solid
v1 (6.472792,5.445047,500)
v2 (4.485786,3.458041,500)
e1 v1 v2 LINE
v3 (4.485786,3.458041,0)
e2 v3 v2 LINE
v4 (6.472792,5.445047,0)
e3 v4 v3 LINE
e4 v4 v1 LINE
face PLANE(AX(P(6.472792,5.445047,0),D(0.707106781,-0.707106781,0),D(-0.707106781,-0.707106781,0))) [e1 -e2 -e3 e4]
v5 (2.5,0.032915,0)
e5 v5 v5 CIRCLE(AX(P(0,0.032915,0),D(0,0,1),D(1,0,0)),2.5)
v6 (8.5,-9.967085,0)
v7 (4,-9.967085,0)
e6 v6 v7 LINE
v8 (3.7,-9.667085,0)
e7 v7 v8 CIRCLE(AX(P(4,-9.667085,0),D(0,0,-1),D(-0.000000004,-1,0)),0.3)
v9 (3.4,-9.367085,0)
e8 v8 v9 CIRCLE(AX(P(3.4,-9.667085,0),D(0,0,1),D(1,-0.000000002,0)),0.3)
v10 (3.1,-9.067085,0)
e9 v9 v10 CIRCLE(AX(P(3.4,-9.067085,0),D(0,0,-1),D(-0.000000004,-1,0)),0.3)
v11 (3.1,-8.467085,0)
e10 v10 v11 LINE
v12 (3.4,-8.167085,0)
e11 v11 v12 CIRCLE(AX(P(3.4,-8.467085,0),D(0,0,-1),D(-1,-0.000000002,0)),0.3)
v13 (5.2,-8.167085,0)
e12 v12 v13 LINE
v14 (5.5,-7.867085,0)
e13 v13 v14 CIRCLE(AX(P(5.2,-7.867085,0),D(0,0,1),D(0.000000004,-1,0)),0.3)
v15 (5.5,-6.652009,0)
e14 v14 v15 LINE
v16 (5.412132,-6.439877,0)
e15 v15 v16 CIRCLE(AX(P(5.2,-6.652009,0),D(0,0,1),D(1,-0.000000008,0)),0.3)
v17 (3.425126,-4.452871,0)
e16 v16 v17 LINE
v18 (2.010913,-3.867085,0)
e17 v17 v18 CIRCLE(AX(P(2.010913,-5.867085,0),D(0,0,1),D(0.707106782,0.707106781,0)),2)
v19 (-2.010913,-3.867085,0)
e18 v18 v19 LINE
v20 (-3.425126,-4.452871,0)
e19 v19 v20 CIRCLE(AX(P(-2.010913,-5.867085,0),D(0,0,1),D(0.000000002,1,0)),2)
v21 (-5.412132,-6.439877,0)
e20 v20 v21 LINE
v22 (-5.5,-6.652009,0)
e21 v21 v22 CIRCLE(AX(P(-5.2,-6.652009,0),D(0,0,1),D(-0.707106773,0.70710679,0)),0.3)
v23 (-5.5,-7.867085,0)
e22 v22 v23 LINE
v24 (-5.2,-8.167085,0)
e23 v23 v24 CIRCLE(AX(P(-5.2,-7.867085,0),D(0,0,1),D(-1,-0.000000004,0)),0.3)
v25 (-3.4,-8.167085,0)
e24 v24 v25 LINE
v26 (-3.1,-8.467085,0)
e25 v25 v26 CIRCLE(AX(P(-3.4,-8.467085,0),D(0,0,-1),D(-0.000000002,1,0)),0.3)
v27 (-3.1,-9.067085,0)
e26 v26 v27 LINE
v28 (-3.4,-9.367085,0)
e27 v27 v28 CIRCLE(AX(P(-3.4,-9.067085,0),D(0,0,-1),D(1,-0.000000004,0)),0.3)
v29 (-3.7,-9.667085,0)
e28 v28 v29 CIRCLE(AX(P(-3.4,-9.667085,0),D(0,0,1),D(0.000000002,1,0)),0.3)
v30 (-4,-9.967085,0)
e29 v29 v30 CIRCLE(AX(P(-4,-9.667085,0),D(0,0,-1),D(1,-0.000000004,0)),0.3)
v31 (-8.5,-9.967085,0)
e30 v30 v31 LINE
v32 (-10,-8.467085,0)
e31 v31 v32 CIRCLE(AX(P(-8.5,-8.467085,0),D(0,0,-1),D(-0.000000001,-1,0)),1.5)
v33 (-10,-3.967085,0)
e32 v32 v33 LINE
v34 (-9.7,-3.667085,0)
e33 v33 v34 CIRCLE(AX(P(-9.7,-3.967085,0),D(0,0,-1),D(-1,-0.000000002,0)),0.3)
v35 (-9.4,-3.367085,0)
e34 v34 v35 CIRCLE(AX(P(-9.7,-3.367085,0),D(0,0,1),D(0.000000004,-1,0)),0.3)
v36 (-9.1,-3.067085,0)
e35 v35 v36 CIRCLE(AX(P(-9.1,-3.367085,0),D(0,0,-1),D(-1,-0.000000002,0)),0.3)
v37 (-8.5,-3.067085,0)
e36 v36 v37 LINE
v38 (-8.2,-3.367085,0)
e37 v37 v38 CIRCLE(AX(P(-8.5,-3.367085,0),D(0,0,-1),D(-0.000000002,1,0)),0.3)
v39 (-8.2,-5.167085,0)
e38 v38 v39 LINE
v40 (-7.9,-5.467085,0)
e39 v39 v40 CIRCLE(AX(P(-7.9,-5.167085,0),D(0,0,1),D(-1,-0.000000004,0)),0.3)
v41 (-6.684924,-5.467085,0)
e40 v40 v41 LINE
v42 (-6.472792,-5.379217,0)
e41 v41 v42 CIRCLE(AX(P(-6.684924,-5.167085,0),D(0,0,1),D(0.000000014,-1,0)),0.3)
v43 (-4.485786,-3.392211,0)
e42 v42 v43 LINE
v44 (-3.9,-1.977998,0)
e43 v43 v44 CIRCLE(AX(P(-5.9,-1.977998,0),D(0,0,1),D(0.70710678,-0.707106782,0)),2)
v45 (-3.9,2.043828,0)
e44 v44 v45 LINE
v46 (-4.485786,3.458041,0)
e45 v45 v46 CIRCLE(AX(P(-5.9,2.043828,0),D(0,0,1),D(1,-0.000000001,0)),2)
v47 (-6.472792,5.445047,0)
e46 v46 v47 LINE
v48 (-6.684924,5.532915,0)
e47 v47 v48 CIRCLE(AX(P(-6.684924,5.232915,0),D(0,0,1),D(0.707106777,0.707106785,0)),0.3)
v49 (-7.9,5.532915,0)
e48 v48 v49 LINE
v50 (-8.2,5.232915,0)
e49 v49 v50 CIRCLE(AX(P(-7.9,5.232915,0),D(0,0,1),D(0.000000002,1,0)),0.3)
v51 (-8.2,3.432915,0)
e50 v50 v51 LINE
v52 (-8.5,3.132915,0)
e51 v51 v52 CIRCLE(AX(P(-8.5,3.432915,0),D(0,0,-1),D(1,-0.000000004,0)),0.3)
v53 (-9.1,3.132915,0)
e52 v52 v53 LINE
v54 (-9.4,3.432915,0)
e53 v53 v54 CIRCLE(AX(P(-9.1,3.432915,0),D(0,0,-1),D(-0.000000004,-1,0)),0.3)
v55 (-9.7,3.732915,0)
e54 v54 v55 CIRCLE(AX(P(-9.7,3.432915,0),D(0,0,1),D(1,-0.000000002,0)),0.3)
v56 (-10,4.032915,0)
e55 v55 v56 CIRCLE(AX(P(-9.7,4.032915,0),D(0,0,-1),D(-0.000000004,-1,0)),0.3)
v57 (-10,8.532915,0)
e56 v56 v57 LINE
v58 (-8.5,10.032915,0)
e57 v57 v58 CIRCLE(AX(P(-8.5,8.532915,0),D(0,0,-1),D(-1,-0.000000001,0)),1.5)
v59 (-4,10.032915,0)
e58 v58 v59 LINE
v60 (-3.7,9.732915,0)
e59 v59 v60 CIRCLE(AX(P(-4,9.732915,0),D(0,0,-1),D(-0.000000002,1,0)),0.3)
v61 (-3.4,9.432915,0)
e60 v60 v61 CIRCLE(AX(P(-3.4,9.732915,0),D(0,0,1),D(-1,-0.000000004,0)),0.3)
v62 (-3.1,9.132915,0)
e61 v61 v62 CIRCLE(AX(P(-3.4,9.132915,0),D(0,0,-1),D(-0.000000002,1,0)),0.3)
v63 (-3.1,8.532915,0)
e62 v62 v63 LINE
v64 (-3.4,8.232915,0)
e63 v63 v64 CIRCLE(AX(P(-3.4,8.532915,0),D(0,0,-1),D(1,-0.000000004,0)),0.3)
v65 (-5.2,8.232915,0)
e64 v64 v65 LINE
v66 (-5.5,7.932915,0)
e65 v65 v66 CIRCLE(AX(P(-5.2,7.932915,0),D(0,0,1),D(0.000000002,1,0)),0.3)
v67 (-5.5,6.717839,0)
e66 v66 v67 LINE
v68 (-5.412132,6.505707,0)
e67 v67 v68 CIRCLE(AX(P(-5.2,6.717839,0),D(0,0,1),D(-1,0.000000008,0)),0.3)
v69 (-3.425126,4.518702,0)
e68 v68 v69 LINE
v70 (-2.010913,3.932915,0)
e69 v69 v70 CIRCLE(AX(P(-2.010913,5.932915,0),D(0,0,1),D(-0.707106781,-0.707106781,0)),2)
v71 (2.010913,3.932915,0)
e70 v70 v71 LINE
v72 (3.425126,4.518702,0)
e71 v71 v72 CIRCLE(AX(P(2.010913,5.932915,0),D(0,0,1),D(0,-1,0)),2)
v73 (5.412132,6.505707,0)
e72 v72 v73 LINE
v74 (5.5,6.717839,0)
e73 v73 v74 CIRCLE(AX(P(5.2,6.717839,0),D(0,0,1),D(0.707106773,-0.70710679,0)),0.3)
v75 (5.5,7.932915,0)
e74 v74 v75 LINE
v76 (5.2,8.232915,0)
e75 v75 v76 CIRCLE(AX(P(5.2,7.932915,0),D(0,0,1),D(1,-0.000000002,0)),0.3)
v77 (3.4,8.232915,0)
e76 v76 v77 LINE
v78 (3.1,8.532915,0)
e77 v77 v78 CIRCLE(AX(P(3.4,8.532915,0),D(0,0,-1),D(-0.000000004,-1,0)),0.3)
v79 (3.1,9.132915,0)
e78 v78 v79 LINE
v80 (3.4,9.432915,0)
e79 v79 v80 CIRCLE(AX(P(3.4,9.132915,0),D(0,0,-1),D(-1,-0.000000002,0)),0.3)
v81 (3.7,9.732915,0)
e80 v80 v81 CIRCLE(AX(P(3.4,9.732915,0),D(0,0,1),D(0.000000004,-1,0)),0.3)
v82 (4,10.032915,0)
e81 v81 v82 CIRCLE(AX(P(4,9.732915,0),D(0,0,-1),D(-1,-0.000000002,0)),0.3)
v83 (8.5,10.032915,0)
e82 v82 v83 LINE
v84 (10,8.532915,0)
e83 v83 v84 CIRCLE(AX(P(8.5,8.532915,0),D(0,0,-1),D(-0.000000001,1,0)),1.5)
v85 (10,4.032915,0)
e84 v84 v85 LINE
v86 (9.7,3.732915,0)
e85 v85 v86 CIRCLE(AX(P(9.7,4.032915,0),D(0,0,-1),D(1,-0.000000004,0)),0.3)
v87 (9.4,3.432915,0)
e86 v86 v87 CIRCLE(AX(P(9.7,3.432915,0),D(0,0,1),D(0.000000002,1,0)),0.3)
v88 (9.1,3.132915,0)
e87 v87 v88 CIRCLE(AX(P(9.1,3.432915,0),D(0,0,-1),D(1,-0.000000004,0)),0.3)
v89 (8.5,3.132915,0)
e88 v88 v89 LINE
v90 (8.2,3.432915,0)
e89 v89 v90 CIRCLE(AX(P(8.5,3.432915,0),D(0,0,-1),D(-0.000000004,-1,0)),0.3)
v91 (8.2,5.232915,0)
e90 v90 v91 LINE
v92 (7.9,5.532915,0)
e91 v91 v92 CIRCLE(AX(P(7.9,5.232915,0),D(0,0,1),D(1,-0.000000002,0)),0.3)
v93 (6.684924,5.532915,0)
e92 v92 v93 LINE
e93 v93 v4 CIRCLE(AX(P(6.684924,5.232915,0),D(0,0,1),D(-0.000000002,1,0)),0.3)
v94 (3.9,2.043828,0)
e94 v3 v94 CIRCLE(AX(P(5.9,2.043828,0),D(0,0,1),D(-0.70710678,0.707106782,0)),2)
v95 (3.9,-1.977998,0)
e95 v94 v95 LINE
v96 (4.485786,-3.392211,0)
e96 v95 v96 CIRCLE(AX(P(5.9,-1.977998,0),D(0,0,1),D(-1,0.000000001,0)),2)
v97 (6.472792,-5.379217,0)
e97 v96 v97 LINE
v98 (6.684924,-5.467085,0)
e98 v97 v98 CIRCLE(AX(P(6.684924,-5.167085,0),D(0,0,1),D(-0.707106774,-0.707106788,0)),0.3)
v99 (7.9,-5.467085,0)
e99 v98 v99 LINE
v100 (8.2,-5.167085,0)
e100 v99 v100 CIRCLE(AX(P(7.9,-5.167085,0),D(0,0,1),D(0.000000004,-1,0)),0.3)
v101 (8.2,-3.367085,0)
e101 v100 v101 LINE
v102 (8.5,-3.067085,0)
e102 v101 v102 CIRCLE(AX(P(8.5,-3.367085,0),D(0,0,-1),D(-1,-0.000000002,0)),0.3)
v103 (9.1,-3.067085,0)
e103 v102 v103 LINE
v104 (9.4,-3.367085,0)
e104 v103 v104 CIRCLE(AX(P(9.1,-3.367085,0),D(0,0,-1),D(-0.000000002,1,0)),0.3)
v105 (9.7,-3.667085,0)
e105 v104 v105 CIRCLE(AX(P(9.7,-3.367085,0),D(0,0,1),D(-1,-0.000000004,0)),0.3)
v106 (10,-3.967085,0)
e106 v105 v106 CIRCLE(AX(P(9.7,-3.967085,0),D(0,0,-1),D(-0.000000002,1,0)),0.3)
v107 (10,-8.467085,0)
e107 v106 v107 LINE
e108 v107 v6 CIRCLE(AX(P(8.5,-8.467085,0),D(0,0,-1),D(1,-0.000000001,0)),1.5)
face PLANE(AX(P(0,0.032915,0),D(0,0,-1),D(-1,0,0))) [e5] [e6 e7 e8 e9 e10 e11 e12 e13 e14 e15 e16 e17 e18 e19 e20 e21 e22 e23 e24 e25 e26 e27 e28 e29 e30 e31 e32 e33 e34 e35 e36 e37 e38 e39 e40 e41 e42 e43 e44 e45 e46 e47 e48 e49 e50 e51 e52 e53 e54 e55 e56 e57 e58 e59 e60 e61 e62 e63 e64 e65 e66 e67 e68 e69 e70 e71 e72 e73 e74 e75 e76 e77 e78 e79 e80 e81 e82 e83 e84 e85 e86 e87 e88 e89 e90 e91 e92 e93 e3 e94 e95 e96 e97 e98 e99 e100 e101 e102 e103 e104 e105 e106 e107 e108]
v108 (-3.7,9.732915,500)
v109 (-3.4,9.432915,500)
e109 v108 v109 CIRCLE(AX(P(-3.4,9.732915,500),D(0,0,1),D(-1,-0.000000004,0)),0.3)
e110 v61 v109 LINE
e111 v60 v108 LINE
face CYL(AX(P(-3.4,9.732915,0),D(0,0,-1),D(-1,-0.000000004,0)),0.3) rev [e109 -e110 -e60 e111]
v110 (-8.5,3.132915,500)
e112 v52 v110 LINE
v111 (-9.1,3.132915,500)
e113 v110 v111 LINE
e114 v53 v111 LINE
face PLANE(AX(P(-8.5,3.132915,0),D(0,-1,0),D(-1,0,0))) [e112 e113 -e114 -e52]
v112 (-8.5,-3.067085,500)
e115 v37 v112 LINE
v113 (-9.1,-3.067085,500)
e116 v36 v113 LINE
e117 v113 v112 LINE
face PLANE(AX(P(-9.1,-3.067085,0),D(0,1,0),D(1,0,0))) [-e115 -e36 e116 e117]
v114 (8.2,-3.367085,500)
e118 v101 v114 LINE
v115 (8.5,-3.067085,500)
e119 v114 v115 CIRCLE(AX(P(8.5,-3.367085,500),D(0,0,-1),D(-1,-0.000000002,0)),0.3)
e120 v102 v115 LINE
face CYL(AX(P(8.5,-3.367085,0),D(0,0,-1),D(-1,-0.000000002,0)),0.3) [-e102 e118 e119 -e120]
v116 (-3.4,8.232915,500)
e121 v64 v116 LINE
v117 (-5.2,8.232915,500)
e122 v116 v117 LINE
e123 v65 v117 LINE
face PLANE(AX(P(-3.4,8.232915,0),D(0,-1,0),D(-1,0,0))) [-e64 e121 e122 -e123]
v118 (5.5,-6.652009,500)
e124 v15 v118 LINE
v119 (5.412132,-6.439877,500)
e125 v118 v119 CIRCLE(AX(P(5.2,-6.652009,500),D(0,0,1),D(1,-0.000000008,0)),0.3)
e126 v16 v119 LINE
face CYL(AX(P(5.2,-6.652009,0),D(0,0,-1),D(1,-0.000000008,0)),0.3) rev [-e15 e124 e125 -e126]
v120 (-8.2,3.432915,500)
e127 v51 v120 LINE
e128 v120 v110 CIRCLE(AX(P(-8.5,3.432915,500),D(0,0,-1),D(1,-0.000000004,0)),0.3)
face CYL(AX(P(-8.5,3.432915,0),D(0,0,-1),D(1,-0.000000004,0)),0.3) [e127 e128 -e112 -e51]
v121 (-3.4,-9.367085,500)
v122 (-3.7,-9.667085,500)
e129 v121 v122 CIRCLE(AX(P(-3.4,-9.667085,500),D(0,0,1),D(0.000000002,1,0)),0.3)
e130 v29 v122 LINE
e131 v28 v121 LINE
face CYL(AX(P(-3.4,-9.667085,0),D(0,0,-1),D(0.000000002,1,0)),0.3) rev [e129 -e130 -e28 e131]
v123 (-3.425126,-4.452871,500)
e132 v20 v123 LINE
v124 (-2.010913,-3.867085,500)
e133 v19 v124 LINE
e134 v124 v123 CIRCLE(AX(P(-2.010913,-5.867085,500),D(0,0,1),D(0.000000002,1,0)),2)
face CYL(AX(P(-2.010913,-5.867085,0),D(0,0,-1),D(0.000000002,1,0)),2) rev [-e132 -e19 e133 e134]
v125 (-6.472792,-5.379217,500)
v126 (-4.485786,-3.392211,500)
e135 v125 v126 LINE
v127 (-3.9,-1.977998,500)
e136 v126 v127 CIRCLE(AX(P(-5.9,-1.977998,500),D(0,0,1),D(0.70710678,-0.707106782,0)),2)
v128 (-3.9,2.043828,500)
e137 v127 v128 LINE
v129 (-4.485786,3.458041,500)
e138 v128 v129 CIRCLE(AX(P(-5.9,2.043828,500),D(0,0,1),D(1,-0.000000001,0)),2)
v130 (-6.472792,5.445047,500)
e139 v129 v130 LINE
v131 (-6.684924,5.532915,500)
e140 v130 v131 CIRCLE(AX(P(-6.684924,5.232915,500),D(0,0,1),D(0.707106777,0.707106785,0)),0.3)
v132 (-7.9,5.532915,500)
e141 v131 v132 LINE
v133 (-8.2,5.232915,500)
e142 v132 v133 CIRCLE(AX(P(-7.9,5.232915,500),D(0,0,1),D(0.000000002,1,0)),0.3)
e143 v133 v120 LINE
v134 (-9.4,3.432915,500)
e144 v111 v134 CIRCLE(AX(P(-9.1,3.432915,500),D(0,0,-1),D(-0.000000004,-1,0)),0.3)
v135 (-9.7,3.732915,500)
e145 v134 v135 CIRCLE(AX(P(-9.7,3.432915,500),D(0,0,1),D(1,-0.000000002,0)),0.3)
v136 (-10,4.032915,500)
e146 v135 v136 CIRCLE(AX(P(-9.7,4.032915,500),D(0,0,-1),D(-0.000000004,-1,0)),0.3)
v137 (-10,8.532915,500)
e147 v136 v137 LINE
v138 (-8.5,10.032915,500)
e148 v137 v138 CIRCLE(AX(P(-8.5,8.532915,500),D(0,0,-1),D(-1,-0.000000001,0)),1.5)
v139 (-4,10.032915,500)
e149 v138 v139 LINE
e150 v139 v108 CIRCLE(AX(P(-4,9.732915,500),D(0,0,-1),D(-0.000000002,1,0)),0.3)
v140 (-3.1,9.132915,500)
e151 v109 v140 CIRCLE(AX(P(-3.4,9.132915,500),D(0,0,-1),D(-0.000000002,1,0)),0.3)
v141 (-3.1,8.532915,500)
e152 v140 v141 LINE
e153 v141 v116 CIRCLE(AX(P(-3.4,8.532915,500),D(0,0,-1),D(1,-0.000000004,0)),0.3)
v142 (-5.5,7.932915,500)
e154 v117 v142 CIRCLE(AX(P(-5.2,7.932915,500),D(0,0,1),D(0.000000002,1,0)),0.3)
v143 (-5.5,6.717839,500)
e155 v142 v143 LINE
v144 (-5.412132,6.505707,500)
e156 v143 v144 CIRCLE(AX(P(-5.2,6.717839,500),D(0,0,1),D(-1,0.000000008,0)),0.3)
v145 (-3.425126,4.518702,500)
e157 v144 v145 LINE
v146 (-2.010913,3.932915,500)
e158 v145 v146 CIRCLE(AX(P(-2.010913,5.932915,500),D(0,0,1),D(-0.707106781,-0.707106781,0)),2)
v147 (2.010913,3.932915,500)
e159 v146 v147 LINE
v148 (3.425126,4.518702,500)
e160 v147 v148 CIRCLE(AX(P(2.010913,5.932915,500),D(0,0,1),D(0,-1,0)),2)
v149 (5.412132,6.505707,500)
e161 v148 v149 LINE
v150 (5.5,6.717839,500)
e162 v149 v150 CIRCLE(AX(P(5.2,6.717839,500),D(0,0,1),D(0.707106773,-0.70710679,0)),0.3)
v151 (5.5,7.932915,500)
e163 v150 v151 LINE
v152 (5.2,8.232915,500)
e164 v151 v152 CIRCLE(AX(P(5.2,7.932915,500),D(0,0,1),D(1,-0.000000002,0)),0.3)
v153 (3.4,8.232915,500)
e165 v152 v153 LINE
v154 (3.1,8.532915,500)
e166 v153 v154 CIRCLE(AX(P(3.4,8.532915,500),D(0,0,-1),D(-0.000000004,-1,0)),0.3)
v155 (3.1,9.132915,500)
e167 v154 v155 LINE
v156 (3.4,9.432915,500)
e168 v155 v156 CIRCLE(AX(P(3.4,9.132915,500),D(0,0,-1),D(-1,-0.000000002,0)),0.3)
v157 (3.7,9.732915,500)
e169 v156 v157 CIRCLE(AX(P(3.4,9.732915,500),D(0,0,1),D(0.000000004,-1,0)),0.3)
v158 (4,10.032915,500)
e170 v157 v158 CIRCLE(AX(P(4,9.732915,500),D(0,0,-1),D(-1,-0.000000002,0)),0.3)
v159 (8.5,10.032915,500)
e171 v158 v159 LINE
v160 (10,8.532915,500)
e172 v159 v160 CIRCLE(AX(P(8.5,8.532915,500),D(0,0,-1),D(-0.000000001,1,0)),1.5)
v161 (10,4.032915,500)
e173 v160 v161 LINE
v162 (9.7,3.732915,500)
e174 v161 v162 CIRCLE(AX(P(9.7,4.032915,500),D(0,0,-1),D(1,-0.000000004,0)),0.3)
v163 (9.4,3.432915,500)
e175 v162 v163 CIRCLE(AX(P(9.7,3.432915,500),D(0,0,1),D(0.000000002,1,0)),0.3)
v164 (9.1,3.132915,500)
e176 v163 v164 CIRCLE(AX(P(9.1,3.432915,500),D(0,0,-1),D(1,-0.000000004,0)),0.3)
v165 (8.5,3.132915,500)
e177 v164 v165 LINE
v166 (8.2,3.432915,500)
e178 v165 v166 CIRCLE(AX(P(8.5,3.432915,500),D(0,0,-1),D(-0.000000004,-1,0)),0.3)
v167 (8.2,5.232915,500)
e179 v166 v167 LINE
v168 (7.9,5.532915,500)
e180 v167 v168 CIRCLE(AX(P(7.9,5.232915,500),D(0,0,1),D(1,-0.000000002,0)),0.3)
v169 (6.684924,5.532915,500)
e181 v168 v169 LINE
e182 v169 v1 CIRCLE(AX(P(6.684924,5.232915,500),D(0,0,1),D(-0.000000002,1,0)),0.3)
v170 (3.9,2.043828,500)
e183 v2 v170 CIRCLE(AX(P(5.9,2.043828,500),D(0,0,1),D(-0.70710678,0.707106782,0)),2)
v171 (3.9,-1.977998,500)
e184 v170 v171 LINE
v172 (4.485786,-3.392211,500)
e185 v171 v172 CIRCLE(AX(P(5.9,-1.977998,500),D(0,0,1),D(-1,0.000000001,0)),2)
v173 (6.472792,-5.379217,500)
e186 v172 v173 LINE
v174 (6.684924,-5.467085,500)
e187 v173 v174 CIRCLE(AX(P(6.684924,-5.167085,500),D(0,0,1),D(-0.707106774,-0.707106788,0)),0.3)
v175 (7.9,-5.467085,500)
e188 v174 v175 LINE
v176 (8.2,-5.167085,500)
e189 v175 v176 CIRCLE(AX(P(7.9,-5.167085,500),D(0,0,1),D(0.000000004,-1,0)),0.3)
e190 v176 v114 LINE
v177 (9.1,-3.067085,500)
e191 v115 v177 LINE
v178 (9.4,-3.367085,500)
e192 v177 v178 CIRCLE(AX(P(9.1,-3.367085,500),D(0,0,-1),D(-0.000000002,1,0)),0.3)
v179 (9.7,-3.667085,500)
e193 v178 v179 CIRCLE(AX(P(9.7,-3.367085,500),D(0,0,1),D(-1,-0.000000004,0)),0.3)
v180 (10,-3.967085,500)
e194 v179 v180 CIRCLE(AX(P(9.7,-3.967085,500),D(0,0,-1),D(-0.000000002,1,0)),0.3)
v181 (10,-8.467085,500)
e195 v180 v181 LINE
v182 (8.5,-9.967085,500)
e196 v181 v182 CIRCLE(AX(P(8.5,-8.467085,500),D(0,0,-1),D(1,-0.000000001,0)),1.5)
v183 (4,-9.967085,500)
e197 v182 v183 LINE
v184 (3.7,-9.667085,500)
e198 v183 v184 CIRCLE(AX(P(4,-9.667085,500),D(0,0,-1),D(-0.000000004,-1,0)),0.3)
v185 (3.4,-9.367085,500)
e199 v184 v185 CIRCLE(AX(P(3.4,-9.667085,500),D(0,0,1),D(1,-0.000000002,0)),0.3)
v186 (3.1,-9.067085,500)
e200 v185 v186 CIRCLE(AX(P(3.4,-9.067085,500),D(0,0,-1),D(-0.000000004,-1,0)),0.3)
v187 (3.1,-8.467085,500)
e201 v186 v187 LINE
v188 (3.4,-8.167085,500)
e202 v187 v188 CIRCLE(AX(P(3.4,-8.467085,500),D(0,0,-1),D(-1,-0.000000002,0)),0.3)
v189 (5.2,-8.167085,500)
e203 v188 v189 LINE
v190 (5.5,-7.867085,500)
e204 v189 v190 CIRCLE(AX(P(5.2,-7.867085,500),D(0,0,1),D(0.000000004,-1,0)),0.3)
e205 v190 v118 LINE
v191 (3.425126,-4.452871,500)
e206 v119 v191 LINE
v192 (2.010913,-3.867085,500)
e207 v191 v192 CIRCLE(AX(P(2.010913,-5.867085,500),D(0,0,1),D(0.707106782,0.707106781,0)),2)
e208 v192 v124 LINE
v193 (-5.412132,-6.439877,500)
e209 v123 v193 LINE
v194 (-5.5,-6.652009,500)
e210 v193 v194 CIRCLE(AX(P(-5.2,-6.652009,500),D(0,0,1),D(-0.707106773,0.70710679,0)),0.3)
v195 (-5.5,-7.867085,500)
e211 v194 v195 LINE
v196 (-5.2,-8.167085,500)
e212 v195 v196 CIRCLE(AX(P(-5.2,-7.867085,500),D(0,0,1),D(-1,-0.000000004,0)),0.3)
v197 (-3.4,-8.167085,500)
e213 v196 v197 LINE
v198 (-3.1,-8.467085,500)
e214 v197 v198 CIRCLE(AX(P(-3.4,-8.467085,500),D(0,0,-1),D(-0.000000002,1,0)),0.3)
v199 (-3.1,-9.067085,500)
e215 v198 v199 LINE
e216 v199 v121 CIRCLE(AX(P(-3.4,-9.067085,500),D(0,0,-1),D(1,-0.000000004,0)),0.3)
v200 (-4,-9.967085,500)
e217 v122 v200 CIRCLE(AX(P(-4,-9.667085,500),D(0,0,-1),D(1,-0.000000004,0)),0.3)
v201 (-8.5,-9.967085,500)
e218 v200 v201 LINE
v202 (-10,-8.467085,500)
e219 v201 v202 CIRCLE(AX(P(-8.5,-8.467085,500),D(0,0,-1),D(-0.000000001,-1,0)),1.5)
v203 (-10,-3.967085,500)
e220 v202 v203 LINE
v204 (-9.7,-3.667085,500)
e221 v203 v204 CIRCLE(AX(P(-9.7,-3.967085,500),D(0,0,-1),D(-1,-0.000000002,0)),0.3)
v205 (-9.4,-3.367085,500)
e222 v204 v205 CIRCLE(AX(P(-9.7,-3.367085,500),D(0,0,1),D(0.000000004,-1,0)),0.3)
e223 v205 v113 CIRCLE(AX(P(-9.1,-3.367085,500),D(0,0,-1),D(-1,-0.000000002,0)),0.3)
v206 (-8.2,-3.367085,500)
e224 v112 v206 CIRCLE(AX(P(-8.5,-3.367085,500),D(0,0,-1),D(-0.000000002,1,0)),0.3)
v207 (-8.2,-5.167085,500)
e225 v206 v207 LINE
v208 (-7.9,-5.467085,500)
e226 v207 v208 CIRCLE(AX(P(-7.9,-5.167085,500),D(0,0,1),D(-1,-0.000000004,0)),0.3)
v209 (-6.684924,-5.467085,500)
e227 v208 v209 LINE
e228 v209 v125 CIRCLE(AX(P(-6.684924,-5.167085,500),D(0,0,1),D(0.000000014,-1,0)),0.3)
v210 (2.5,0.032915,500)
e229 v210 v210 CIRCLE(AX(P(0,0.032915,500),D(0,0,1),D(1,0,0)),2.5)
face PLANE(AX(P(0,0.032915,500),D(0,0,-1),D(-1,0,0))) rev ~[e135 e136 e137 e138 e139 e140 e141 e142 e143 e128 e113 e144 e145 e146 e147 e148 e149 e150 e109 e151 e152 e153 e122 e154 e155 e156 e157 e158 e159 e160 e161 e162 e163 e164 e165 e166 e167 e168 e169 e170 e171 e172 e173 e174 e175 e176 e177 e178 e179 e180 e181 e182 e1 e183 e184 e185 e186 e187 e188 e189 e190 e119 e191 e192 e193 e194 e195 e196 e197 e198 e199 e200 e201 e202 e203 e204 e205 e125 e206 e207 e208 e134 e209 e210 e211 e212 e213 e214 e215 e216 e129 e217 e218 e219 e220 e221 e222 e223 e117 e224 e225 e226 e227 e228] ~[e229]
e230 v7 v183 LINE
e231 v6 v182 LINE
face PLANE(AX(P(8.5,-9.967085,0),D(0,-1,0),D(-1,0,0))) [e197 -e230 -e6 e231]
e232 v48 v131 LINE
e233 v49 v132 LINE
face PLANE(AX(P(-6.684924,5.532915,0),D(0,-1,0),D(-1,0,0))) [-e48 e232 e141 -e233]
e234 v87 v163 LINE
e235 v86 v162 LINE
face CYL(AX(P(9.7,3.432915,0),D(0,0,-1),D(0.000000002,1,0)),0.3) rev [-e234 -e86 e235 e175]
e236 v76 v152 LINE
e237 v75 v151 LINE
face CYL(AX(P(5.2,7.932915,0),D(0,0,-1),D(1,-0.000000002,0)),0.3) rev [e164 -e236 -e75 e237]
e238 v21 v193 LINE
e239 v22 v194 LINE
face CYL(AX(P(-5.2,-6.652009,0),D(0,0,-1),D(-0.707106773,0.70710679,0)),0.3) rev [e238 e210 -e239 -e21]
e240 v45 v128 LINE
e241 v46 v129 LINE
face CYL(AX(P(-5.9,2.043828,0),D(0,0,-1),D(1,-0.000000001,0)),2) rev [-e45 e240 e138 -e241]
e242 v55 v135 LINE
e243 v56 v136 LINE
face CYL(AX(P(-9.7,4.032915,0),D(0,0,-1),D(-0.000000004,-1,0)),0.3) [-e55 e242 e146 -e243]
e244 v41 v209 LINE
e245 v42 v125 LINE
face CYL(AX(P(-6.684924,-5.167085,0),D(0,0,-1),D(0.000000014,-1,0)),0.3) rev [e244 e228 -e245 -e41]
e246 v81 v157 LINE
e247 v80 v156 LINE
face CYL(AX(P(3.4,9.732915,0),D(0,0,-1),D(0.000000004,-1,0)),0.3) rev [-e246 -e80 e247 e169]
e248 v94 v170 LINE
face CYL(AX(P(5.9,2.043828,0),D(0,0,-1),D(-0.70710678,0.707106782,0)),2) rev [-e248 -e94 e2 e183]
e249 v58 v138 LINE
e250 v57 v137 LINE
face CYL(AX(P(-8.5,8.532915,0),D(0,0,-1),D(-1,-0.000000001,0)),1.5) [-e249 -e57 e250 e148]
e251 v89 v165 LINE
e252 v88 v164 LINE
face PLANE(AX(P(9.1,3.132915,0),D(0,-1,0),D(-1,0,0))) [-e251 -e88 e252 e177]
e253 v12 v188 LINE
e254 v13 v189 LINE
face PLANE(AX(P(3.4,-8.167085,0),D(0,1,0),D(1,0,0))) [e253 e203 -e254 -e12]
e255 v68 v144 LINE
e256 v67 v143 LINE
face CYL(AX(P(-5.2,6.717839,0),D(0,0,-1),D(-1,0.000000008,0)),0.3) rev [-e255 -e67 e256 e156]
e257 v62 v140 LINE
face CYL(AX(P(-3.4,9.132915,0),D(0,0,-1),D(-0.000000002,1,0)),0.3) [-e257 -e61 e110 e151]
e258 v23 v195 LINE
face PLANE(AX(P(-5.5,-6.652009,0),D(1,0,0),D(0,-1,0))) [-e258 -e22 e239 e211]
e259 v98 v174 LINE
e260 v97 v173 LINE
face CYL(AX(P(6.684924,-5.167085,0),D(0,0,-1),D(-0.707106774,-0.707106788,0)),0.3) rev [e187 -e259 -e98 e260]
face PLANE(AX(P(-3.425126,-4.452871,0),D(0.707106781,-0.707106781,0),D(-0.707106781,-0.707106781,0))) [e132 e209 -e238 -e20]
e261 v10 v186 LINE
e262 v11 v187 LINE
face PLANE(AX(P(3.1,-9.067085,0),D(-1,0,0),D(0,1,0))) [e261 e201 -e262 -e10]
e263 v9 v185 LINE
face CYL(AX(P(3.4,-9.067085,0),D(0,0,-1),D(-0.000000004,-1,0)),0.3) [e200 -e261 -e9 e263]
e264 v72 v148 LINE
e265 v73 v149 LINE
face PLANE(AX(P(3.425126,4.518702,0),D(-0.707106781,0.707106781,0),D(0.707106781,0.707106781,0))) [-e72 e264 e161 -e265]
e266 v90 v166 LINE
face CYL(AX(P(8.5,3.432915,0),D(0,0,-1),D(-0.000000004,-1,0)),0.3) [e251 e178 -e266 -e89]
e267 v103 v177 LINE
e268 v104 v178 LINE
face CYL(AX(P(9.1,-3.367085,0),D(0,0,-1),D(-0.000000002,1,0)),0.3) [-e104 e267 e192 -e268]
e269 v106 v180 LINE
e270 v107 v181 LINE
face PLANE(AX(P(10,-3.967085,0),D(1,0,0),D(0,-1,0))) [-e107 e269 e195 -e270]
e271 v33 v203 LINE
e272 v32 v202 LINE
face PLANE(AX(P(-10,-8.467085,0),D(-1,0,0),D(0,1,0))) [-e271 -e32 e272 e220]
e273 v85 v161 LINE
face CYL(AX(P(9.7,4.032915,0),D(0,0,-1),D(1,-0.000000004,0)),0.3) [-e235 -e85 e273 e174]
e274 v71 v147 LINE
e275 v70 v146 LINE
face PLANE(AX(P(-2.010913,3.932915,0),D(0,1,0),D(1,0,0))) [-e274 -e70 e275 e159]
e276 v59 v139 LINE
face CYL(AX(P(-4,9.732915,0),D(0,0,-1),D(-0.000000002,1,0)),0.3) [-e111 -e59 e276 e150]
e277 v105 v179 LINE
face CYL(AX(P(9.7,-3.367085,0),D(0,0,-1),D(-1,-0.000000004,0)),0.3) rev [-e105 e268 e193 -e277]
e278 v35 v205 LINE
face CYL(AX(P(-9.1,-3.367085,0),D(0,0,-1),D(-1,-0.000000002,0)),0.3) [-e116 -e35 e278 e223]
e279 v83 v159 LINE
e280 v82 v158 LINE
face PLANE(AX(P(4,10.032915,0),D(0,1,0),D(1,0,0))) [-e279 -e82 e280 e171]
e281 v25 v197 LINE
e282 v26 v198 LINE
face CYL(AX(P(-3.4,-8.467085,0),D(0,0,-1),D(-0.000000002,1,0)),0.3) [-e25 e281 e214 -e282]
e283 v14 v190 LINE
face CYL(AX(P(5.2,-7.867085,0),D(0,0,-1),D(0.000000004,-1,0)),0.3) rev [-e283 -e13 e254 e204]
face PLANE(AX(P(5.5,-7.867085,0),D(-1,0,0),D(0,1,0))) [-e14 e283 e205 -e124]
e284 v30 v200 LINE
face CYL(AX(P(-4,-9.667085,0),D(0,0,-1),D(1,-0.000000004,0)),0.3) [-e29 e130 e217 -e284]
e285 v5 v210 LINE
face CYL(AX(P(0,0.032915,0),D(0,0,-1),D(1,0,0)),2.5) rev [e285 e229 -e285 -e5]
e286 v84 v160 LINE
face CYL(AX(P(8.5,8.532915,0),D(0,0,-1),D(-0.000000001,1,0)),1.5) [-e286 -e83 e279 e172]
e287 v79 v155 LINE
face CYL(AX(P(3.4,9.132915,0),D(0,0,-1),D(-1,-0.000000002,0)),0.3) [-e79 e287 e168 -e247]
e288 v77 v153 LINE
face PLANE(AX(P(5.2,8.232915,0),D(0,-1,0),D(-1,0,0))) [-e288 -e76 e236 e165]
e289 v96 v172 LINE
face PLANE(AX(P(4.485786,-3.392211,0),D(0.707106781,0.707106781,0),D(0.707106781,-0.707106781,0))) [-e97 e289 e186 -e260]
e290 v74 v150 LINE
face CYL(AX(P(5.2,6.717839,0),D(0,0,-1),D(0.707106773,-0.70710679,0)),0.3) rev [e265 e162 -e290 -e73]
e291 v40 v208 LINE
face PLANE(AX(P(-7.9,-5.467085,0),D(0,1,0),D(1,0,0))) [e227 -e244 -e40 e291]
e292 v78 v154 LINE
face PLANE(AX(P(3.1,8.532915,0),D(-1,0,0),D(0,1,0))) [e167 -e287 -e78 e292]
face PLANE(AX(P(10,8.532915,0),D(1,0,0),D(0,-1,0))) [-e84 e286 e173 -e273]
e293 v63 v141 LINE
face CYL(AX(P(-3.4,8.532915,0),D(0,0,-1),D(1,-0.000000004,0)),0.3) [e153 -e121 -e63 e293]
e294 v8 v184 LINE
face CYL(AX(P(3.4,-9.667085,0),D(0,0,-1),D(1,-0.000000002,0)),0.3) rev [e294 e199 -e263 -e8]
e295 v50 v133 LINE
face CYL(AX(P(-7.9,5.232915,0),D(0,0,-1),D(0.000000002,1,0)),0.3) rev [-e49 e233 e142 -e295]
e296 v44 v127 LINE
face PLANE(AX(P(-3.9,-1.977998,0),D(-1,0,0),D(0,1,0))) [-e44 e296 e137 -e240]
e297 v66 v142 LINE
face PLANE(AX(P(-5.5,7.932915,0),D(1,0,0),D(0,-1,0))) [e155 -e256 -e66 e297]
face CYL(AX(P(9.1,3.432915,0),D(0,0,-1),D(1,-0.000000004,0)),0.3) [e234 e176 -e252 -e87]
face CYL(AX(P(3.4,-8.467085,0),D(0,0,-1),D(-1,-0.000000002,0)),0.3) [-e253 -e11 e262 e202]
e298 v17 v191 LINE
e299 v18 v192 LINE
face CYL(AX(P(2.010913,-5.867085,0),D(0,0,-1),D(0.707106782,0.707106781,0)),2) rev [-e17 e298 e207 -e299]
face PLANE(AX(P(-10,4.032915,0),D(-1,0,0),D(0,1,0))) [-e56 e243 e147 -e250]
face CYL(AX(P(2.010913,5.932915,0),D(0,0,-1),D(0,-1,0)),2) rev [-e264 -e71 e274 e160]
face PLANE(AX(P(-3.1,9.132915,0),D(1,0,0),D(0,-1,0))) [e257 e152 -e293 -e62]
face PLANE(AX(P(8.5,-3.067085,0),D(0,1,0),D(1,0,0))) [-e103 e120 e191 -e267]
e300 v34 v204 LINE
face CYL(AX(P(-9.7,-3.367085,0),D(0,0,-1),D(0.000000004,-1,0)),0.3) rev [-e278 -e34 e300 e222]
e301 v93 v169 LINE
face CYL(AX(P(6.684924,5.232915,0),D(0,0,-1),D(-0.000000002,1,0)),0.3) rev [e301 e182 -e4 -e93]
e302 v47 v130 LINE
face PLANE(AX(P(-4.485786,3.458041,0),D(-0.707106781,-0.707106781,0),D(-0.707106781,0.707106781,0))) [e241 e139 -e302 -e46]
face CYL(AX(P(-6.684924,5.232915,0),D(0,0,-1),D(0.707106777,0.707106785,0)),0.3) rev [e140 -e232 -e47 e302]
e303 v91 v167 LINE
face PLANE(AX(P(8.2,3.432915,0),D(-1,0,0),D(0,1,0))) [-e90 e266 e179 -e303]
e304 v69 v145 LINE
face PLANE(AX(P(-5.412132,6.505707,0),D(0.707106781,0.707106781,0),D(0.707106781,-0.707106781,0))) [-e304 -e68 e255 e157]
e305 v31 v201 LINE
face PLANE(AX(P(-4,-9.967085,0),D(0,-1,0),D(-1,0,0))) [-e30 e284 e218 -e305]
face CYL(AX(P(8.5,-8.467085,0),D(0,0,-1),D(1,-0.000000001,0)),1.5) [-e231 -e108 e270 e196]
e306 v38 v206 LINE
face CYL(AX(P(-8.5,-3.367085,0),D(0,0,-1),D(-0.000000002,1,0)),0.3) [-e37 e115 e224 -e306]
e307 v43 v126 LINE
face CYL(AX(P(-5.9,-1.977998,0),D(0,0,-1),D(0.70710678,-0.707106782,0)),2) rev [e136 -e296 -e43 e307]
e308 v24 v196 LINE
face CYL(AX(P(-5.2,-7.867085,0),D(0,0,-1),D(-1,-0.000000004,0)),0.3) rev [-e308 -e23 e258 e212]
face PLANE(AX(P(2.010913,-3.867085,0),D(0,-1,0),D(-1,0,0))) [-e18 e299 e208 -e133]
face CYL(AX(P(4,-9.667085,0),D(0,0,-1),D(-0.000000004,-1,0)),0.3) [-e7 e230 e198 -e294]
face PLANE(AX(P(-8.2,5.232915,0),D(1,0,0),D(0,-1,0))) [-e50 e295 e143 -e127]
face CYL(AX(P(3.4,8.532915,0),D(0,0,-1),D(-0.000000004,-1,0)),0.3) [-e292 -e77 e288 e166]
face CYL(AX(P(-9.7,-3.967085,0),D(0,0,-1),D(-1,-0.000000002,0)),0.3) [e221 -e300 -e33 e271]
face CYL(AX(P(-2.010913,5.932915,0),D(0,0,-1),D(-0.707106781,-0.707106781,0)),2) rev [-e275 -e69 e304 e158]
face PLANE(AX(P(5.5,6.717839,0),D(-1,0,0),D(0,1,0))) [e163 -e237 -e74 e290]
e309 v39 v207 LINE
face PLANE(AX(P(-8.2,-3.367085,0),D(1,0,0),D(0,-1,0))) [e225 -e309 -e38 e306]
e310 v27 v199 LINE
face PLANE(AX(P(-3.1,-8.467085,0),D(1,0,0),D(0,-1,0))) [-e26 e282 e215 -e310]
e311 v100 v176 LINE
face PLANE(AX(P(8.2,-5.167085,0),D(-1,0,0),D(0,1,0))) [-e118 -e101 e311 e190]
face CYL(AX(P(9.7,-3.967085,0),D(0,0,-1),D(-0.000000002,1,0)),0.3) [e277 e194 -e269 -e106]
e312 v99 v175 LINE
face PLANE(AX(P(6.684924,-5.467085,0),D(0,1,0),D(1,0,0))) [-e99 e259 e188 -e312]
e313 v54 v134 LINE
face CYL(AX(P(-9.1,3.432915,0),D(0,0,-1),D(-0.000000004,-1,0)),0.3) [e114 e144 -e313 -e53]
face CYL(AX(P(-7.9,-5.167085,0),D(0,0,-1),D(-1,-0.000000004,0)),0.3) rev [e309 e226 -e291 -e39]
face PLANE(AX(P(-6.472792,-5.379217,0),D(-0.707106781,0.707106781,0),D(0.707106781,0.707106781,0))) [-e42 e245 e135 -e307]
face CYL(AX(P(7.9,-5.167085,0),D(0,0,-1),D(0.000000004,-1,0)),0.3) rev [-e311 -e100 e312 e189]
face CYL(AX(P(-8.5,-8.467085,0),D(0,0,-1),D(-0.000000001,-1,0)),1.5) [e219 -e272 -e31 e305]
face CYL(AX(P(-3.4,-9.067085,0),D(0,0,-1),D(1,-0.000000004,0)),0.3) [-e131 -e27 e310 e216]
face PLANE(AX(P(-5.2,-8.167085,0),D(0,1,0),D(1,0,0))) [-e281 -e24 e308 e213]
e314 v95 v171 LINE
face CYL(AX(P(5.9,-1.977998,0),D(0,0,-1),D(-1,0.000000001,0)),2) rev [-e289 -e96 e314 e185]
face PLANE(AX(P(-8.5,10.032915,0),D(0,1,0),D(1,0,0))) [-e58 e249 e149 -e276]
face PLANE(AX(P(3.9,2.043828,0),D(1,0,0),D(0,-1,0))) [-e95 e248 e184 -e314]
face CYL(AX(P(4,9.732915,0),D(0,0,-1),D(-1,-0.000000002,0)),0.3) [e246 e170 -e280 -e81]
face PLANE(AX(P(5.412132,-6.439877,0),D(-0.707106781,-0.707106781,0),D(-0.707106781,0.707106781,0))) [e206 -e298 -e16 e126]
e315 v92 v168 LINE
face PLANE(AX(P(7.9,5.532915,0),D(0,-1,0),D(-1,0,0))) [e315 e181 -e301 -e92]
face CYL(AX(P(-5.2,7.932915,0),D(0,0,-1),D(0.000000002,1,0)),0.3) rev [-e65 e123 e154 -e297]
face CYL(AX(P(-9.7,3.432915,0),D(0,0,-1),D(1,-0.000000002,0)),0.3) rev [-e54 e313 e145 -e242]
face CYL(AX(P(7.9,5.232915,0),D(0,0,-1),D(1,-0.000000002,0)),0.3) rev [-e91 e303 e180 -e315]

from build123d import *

# Parameters (mm, degrees)
SKETCH_1_R      = 2.5
EXTRUDE_1_DEPTH = 500


with BuildPart() as part:
    # 草图1 → 凸台-拉伸1 (new body)
    with BuildSketch(Plane.XY):
        with BuildLine():
            Line((10, 8.532915167), (10, 4.032915167))
            ThreePointArc((10, 4.032915167), (9.912132034, 3.820783133), (9.7, 3.732915167))
            ThreePointArc((9.7, 3.732915167), (9.487867966, 3.645047202), (9.4, 3.432915167))
            ThreePointArc((9.4, 3.432915167), (9.312132034, 3.220783133), (9.1, 3.132915167))
            Line((9.1, 3.132915167), (8.5, 3.132915167))
            ThreePointArc((8.5, 3.132915167), (8.287867966, 3.220783133), (8.2, 3.432915167))
            Line((8.2, 3.432915167), (8.2, 5.232915167))
            ThreePointArc((8.2, 5.232915167), (8.112132034, 5.445047202), (7.9, 5.532915167))
            Line((7.9, 5.532915167), (6.68492424, 5.532915167))
            ThreePointArc((6.68492424, 5.532915167), (6.570119211, 5.510079027), (6.472792206, 5.445047202))
            Line((6.472792206, 5.445047202), (4.485786438, 3.458041433))
            ThreePointArc((4.485786438, 3.458041433), (4.052240935, 2.809194736), (3.9, 2.043827871))
            Line((3.9, 2.043827871), (3.9, -1.977997536))
            ThreePointArc((3.9, -1.977997536), (4.052240935, -2.743364401), (4.485786438, -3.392211098))
            Line((4.485786438, -3.392211098), (6.472792206, -5.379216867))
            ThreePointArc((6.472792206, -5.379216867), (6.570119211, -5.444248692), (6.68492424, -5.467084833))
            Line((6.68492424, -5.467084833), (7.9, -5.467084833))
            ThreePointArc((7.9, -5.467084833), (8.112132034, -5.379216867), (8.2, -5.167084833))
            Line((8.2, -5.167084833), (8.2, -3.367084833))
            ThreePointArc((8.2, -3.367084833), (8.287867966, -3.154952798), (8.5, -3.067084833))
            Line((8.5, -3.067084833), (9.1, -3.067084833))
            ThreePointArc((9.1, -3.067084833), (9.312132034, -3.154952798), (9.4, -3.367084833))
            ThreePointArc((9.4, -3.367084833), (9.487867966, -3.579216867), (9.7, -3.667084833))
            ThreePointArc((9.7, -3.667084833), (9.912132034, -3.754952798), (10, -3.967084833))
            Line((10, -3.967084833), (10, -8.467084833))
            ThreePointArc((10, -8.467084833), (9.560660172, -9.527745004), (8.5, -9.967084833))
            Line((8.5, -9.967084833), (4, -9.967084833))
            ThreePointArc((4, -9.967084833), (3.787867966, -9.879216867), (3.7, -9.667084833))
            ThreePointArc((3.7, -9.667084833), (3.612132034, -9.454952798), (3.4, -9.367084833))
            ThreePointArc((3.4, -9.367084833), (3.187867966, -9.279216867), (3.1, -9.067084833))
            Line((3.1, -9.067084833), (3.1, -8.467084833))
            ThreePointArc((3.1, -8.467084833), (3.187867966, -8.254952798), (3.4, -8.167084833))
            Line((3.4, -8.167084833), (5.2, -8.167084833))
            ThreePointArc((5.2, -8.167084833), (5.412132034, -8.079216867), (5.5, -7.867084833))
            Line((5.5, -7.867084833), (5.5, -6.652009073))
            ThreePointArc((5.5, -6.652009073), (5.47716386, -6.537204043), (5.412132034, -6.439877039))
            Line((5.412132034, -6.439877039), (3.425126266, -4.45287127))
            ThreePointArc((3.425126266, -4.45287127), (2.776279568, -4.019325767), (2.010912703, -3.867084833))
            Line((2.010912703, -3.867084833), (-2.010912703, -3.867084833))
            ThreePointArc((-2.010912703, -3.867084833), (-2.776279568, -4.019325767), (-3.425126266, -4.45287127))
            Line((-3.425126266, -4.45287127), (-5.412132034, -6.439877039))
            ThreePointArc((-5.412132034, -6.439877039), (-5.47716386, -6.537204043), (-5.5, -6.652009073))
            Line((-5.5, -6.652009073), (-5.5, -7.867084833))
            ThreePointArc((-5.5, -7.867084833), (-5.412132034, -8.079216867), (-5.2, -8.167084833))
            Line((-5.2, -8.167084833), (-3.4, -8.167084833))
            ThreePointArc((-3.4, -8.167084833), (-3.187867966, -8.254952798), (-3.1, -8.467084833))
            Line((-3.1, -8.467084833), (-3.1, -9.067084833))
            ThreePointArc((-3.1, -9.067084833), (-3.187867966, -9.279216867), (-3.4, -9.367084833))
            ThreePointArc((-3.4, -9.367084833), (-3.612132034, -9.454952798), (-3.7, -9.667084833))
            ThreePointArc((-3.7, -9.667084833), (-3.787867966, -9.879216867), (-4, -9.967084833))
            Line((-4, -9.967084833), (-8.5, -9.967084833))
            ThreePointArc((-8.5, -9.967084833), (-9.560660172, -9.527745004), (-10, -8.467084833))
            Line((-10, -8.467084833), (-10, -3.967084833))
            ThreePointArc((-10, -3.967084833), (-9.912132034, -3.754952798), (-9.7, -3.667084833))
            ThreePointArc((-9.7, -3.667084833), (-9.487867966, -3.579216867), (-9.4, -3.367084833))
            ThreePointArc((-9.4, -3.367084833), (-9.312132034, -3.154952798), (-9.1, -3.067084833))
            Line((-9.1, -3.067084833), (-8.5, -3.067084833))
            ThreePointArc((-8.5, -3.067084833), (-8.287867966, -3.154952798), (-8.2, -3.367084833))
            Line((-8.2, -3.367084833), (-8.2, -5.167084833))
            ThreePointArc((-8.2, -5.167084833), (-8.112132034, -5.379216867), (-7.9, -5.467084833))
            Line((-7.9, -5.467084833), (-6.68492424, -5.467084833))
            ThreePointArc((-6.68492424, -5.467084833), (-6.570119211, -5.444248692), (-6.472792206, -5.379216867))
            Line((-6.472792206, -5.379216867), (-4.485786438, -3.392211098))
            ThreePointArc((-4.485786438, -3.392211098), (-4.052240935, -2.743364401), (-3.9, -1.977997536))
            Line((-3.9, -1.977997536), (-3.9, 2.043827871))
            ThreePointArc((-3.9, 2.043827871), (-4.052240935, 2.809194736), (-4.485786438, 3.458041433))
            Line((-4.485786438, 3.458041433), (-6.472792206, 5.445047202))
            ThreePointArc((-6.472792206, 5.445047202), (-6.570119211, 5.510079027), (-6.68492424, 5.532915167))
            Line((-6.68492424, 5.532915167), (-7.9, 5.532915167))
            ThreePointArc((-7.9, 5.532915167), (-8.112132034, 5.445047202), (-8.2, 5.232915167))
            Line((-8.2, 5.232915167), (-8.2, 3.432915167))
            ThreePointArc((-8.2, 3.432915167), (-8.287867966, 3.220783133), (-8.5, 3.132915167))
            Line((-8.5, 3.132915167), (-9.1, 3.132915167))
            ThreePointArc((-9.1, 3.132915167), (-9.312132034, 3.220783133), (-9.4, 3.432915167))
            ThreePointArc((-9.4, 3.432915167), (-9.487867966, 3.645047202), (-9.7, 3.732915167))
            ThreePointArc((-9.7, 3.732915167), (-9.912132034, 3.820783133), (-10, 4.032915167))
            Line((-10, 4.032915167), (-10, 8.532915167))
            ThreePointArc((-10, 8.532915167), (-9.560660172, 9.593575339), (-8.5, 10.032915167))
            Line((-8.5, 10.032915167), (-4, 10.032915167))
            ThreePointArc((-4, 10.032915167), (-3.787867966, 9.945047202), (-3.7, 9.732915167))
            ThreePointArc((-3.7, 9.732915167), (-3.612132034, 9.520783133), (-3.4, 9.432915167))
            ThreePointArc((-3.4, 9.432915167), (-3.187867966, 9.345047202), (-3.1, 9.132915167))
            Line((-3.1, 9.132915167), (-3.1, 8.532915167))
            ThreePointArc((-3.1, 8.532915167), (-3.187867966, 8.320783133), (-3.4, 8.232915167))
            Line((-3.4, 8.232915167), (-5.2, 8.232915167))
            ThreePointArc((-5.2, 8.232915167), (-5.412132034, 8.145047202), (-5.5, 7.932915167))
            Line((-5.5, 7.932915167), (-5.5, 6.717839408))
            ThreePointArc((-5.5, 6.717839408), (-5.47716386, 6.603034378), (-5.412132034, 6.505707374))
            Line((-5.412132034, 6.505707374), (-3.425126266, 4.518701605))
            ThreePointArc((-3.425126266, 4.518701605), (-2.776279568, 4.085156102), (-2.010912703, 3.932915167))
            Line((-2.010912703, 3.932915167), (2.010912703, 3.932915167))
            ThreePointArc((2.010912703, 3.932915167), (2.776279568, 4.085156102), (3.425126266, 4.518701605))
            Line((3.425126266, 4.518701605), (5.412132034, 6.505707374))
            ThreePointArc((5.412132034, 6.505707374), (5.47716386, 6.603034378), (5.5, 6.717839408))
            Line((5.5, 6.717839408), (5.5, 7.932915167))
            ThreePointArc((5.5, 7.932915167), (5.412132034, 8.145047202), (5.2, 8.232915167))
            Line((5.2, 8.232915167), (3.4, 8.232915167))
            ThreePointArc((3.4, 8.232915167), (3.187867966, 8.320783133), (3.1, 8.532915167))
            Line((3.1, 8.532915167), (3.1, 9.132915167))
            ThreePointArc((3.1, 9.132915167), (3.187867966, 9.345047202), (3.4, 9.432915167))
            ThreePointArc((3.4, 9.432915167), (3.612132034, 9.520783133), (3.7, 9.732915167))
            ThreePointArc((3.7, 9.732915167), (3.787867966, 9.945047202), (4, 10.032915167))
            Line((4, 10.032915167), (8.5, 10.032915167))
            ThreePointArc((8.5, 10.032915167), (9.560660172, 9.593575339), (10, 8.532915167))
        make_face()
        with Locations((0, 0.032915167)):
            Circle(SKETCH_1_R, mode=Mode.SUBTRACT)
    extrude(amount=EXTRUDE_1_DEPTH)


solid = part.part
